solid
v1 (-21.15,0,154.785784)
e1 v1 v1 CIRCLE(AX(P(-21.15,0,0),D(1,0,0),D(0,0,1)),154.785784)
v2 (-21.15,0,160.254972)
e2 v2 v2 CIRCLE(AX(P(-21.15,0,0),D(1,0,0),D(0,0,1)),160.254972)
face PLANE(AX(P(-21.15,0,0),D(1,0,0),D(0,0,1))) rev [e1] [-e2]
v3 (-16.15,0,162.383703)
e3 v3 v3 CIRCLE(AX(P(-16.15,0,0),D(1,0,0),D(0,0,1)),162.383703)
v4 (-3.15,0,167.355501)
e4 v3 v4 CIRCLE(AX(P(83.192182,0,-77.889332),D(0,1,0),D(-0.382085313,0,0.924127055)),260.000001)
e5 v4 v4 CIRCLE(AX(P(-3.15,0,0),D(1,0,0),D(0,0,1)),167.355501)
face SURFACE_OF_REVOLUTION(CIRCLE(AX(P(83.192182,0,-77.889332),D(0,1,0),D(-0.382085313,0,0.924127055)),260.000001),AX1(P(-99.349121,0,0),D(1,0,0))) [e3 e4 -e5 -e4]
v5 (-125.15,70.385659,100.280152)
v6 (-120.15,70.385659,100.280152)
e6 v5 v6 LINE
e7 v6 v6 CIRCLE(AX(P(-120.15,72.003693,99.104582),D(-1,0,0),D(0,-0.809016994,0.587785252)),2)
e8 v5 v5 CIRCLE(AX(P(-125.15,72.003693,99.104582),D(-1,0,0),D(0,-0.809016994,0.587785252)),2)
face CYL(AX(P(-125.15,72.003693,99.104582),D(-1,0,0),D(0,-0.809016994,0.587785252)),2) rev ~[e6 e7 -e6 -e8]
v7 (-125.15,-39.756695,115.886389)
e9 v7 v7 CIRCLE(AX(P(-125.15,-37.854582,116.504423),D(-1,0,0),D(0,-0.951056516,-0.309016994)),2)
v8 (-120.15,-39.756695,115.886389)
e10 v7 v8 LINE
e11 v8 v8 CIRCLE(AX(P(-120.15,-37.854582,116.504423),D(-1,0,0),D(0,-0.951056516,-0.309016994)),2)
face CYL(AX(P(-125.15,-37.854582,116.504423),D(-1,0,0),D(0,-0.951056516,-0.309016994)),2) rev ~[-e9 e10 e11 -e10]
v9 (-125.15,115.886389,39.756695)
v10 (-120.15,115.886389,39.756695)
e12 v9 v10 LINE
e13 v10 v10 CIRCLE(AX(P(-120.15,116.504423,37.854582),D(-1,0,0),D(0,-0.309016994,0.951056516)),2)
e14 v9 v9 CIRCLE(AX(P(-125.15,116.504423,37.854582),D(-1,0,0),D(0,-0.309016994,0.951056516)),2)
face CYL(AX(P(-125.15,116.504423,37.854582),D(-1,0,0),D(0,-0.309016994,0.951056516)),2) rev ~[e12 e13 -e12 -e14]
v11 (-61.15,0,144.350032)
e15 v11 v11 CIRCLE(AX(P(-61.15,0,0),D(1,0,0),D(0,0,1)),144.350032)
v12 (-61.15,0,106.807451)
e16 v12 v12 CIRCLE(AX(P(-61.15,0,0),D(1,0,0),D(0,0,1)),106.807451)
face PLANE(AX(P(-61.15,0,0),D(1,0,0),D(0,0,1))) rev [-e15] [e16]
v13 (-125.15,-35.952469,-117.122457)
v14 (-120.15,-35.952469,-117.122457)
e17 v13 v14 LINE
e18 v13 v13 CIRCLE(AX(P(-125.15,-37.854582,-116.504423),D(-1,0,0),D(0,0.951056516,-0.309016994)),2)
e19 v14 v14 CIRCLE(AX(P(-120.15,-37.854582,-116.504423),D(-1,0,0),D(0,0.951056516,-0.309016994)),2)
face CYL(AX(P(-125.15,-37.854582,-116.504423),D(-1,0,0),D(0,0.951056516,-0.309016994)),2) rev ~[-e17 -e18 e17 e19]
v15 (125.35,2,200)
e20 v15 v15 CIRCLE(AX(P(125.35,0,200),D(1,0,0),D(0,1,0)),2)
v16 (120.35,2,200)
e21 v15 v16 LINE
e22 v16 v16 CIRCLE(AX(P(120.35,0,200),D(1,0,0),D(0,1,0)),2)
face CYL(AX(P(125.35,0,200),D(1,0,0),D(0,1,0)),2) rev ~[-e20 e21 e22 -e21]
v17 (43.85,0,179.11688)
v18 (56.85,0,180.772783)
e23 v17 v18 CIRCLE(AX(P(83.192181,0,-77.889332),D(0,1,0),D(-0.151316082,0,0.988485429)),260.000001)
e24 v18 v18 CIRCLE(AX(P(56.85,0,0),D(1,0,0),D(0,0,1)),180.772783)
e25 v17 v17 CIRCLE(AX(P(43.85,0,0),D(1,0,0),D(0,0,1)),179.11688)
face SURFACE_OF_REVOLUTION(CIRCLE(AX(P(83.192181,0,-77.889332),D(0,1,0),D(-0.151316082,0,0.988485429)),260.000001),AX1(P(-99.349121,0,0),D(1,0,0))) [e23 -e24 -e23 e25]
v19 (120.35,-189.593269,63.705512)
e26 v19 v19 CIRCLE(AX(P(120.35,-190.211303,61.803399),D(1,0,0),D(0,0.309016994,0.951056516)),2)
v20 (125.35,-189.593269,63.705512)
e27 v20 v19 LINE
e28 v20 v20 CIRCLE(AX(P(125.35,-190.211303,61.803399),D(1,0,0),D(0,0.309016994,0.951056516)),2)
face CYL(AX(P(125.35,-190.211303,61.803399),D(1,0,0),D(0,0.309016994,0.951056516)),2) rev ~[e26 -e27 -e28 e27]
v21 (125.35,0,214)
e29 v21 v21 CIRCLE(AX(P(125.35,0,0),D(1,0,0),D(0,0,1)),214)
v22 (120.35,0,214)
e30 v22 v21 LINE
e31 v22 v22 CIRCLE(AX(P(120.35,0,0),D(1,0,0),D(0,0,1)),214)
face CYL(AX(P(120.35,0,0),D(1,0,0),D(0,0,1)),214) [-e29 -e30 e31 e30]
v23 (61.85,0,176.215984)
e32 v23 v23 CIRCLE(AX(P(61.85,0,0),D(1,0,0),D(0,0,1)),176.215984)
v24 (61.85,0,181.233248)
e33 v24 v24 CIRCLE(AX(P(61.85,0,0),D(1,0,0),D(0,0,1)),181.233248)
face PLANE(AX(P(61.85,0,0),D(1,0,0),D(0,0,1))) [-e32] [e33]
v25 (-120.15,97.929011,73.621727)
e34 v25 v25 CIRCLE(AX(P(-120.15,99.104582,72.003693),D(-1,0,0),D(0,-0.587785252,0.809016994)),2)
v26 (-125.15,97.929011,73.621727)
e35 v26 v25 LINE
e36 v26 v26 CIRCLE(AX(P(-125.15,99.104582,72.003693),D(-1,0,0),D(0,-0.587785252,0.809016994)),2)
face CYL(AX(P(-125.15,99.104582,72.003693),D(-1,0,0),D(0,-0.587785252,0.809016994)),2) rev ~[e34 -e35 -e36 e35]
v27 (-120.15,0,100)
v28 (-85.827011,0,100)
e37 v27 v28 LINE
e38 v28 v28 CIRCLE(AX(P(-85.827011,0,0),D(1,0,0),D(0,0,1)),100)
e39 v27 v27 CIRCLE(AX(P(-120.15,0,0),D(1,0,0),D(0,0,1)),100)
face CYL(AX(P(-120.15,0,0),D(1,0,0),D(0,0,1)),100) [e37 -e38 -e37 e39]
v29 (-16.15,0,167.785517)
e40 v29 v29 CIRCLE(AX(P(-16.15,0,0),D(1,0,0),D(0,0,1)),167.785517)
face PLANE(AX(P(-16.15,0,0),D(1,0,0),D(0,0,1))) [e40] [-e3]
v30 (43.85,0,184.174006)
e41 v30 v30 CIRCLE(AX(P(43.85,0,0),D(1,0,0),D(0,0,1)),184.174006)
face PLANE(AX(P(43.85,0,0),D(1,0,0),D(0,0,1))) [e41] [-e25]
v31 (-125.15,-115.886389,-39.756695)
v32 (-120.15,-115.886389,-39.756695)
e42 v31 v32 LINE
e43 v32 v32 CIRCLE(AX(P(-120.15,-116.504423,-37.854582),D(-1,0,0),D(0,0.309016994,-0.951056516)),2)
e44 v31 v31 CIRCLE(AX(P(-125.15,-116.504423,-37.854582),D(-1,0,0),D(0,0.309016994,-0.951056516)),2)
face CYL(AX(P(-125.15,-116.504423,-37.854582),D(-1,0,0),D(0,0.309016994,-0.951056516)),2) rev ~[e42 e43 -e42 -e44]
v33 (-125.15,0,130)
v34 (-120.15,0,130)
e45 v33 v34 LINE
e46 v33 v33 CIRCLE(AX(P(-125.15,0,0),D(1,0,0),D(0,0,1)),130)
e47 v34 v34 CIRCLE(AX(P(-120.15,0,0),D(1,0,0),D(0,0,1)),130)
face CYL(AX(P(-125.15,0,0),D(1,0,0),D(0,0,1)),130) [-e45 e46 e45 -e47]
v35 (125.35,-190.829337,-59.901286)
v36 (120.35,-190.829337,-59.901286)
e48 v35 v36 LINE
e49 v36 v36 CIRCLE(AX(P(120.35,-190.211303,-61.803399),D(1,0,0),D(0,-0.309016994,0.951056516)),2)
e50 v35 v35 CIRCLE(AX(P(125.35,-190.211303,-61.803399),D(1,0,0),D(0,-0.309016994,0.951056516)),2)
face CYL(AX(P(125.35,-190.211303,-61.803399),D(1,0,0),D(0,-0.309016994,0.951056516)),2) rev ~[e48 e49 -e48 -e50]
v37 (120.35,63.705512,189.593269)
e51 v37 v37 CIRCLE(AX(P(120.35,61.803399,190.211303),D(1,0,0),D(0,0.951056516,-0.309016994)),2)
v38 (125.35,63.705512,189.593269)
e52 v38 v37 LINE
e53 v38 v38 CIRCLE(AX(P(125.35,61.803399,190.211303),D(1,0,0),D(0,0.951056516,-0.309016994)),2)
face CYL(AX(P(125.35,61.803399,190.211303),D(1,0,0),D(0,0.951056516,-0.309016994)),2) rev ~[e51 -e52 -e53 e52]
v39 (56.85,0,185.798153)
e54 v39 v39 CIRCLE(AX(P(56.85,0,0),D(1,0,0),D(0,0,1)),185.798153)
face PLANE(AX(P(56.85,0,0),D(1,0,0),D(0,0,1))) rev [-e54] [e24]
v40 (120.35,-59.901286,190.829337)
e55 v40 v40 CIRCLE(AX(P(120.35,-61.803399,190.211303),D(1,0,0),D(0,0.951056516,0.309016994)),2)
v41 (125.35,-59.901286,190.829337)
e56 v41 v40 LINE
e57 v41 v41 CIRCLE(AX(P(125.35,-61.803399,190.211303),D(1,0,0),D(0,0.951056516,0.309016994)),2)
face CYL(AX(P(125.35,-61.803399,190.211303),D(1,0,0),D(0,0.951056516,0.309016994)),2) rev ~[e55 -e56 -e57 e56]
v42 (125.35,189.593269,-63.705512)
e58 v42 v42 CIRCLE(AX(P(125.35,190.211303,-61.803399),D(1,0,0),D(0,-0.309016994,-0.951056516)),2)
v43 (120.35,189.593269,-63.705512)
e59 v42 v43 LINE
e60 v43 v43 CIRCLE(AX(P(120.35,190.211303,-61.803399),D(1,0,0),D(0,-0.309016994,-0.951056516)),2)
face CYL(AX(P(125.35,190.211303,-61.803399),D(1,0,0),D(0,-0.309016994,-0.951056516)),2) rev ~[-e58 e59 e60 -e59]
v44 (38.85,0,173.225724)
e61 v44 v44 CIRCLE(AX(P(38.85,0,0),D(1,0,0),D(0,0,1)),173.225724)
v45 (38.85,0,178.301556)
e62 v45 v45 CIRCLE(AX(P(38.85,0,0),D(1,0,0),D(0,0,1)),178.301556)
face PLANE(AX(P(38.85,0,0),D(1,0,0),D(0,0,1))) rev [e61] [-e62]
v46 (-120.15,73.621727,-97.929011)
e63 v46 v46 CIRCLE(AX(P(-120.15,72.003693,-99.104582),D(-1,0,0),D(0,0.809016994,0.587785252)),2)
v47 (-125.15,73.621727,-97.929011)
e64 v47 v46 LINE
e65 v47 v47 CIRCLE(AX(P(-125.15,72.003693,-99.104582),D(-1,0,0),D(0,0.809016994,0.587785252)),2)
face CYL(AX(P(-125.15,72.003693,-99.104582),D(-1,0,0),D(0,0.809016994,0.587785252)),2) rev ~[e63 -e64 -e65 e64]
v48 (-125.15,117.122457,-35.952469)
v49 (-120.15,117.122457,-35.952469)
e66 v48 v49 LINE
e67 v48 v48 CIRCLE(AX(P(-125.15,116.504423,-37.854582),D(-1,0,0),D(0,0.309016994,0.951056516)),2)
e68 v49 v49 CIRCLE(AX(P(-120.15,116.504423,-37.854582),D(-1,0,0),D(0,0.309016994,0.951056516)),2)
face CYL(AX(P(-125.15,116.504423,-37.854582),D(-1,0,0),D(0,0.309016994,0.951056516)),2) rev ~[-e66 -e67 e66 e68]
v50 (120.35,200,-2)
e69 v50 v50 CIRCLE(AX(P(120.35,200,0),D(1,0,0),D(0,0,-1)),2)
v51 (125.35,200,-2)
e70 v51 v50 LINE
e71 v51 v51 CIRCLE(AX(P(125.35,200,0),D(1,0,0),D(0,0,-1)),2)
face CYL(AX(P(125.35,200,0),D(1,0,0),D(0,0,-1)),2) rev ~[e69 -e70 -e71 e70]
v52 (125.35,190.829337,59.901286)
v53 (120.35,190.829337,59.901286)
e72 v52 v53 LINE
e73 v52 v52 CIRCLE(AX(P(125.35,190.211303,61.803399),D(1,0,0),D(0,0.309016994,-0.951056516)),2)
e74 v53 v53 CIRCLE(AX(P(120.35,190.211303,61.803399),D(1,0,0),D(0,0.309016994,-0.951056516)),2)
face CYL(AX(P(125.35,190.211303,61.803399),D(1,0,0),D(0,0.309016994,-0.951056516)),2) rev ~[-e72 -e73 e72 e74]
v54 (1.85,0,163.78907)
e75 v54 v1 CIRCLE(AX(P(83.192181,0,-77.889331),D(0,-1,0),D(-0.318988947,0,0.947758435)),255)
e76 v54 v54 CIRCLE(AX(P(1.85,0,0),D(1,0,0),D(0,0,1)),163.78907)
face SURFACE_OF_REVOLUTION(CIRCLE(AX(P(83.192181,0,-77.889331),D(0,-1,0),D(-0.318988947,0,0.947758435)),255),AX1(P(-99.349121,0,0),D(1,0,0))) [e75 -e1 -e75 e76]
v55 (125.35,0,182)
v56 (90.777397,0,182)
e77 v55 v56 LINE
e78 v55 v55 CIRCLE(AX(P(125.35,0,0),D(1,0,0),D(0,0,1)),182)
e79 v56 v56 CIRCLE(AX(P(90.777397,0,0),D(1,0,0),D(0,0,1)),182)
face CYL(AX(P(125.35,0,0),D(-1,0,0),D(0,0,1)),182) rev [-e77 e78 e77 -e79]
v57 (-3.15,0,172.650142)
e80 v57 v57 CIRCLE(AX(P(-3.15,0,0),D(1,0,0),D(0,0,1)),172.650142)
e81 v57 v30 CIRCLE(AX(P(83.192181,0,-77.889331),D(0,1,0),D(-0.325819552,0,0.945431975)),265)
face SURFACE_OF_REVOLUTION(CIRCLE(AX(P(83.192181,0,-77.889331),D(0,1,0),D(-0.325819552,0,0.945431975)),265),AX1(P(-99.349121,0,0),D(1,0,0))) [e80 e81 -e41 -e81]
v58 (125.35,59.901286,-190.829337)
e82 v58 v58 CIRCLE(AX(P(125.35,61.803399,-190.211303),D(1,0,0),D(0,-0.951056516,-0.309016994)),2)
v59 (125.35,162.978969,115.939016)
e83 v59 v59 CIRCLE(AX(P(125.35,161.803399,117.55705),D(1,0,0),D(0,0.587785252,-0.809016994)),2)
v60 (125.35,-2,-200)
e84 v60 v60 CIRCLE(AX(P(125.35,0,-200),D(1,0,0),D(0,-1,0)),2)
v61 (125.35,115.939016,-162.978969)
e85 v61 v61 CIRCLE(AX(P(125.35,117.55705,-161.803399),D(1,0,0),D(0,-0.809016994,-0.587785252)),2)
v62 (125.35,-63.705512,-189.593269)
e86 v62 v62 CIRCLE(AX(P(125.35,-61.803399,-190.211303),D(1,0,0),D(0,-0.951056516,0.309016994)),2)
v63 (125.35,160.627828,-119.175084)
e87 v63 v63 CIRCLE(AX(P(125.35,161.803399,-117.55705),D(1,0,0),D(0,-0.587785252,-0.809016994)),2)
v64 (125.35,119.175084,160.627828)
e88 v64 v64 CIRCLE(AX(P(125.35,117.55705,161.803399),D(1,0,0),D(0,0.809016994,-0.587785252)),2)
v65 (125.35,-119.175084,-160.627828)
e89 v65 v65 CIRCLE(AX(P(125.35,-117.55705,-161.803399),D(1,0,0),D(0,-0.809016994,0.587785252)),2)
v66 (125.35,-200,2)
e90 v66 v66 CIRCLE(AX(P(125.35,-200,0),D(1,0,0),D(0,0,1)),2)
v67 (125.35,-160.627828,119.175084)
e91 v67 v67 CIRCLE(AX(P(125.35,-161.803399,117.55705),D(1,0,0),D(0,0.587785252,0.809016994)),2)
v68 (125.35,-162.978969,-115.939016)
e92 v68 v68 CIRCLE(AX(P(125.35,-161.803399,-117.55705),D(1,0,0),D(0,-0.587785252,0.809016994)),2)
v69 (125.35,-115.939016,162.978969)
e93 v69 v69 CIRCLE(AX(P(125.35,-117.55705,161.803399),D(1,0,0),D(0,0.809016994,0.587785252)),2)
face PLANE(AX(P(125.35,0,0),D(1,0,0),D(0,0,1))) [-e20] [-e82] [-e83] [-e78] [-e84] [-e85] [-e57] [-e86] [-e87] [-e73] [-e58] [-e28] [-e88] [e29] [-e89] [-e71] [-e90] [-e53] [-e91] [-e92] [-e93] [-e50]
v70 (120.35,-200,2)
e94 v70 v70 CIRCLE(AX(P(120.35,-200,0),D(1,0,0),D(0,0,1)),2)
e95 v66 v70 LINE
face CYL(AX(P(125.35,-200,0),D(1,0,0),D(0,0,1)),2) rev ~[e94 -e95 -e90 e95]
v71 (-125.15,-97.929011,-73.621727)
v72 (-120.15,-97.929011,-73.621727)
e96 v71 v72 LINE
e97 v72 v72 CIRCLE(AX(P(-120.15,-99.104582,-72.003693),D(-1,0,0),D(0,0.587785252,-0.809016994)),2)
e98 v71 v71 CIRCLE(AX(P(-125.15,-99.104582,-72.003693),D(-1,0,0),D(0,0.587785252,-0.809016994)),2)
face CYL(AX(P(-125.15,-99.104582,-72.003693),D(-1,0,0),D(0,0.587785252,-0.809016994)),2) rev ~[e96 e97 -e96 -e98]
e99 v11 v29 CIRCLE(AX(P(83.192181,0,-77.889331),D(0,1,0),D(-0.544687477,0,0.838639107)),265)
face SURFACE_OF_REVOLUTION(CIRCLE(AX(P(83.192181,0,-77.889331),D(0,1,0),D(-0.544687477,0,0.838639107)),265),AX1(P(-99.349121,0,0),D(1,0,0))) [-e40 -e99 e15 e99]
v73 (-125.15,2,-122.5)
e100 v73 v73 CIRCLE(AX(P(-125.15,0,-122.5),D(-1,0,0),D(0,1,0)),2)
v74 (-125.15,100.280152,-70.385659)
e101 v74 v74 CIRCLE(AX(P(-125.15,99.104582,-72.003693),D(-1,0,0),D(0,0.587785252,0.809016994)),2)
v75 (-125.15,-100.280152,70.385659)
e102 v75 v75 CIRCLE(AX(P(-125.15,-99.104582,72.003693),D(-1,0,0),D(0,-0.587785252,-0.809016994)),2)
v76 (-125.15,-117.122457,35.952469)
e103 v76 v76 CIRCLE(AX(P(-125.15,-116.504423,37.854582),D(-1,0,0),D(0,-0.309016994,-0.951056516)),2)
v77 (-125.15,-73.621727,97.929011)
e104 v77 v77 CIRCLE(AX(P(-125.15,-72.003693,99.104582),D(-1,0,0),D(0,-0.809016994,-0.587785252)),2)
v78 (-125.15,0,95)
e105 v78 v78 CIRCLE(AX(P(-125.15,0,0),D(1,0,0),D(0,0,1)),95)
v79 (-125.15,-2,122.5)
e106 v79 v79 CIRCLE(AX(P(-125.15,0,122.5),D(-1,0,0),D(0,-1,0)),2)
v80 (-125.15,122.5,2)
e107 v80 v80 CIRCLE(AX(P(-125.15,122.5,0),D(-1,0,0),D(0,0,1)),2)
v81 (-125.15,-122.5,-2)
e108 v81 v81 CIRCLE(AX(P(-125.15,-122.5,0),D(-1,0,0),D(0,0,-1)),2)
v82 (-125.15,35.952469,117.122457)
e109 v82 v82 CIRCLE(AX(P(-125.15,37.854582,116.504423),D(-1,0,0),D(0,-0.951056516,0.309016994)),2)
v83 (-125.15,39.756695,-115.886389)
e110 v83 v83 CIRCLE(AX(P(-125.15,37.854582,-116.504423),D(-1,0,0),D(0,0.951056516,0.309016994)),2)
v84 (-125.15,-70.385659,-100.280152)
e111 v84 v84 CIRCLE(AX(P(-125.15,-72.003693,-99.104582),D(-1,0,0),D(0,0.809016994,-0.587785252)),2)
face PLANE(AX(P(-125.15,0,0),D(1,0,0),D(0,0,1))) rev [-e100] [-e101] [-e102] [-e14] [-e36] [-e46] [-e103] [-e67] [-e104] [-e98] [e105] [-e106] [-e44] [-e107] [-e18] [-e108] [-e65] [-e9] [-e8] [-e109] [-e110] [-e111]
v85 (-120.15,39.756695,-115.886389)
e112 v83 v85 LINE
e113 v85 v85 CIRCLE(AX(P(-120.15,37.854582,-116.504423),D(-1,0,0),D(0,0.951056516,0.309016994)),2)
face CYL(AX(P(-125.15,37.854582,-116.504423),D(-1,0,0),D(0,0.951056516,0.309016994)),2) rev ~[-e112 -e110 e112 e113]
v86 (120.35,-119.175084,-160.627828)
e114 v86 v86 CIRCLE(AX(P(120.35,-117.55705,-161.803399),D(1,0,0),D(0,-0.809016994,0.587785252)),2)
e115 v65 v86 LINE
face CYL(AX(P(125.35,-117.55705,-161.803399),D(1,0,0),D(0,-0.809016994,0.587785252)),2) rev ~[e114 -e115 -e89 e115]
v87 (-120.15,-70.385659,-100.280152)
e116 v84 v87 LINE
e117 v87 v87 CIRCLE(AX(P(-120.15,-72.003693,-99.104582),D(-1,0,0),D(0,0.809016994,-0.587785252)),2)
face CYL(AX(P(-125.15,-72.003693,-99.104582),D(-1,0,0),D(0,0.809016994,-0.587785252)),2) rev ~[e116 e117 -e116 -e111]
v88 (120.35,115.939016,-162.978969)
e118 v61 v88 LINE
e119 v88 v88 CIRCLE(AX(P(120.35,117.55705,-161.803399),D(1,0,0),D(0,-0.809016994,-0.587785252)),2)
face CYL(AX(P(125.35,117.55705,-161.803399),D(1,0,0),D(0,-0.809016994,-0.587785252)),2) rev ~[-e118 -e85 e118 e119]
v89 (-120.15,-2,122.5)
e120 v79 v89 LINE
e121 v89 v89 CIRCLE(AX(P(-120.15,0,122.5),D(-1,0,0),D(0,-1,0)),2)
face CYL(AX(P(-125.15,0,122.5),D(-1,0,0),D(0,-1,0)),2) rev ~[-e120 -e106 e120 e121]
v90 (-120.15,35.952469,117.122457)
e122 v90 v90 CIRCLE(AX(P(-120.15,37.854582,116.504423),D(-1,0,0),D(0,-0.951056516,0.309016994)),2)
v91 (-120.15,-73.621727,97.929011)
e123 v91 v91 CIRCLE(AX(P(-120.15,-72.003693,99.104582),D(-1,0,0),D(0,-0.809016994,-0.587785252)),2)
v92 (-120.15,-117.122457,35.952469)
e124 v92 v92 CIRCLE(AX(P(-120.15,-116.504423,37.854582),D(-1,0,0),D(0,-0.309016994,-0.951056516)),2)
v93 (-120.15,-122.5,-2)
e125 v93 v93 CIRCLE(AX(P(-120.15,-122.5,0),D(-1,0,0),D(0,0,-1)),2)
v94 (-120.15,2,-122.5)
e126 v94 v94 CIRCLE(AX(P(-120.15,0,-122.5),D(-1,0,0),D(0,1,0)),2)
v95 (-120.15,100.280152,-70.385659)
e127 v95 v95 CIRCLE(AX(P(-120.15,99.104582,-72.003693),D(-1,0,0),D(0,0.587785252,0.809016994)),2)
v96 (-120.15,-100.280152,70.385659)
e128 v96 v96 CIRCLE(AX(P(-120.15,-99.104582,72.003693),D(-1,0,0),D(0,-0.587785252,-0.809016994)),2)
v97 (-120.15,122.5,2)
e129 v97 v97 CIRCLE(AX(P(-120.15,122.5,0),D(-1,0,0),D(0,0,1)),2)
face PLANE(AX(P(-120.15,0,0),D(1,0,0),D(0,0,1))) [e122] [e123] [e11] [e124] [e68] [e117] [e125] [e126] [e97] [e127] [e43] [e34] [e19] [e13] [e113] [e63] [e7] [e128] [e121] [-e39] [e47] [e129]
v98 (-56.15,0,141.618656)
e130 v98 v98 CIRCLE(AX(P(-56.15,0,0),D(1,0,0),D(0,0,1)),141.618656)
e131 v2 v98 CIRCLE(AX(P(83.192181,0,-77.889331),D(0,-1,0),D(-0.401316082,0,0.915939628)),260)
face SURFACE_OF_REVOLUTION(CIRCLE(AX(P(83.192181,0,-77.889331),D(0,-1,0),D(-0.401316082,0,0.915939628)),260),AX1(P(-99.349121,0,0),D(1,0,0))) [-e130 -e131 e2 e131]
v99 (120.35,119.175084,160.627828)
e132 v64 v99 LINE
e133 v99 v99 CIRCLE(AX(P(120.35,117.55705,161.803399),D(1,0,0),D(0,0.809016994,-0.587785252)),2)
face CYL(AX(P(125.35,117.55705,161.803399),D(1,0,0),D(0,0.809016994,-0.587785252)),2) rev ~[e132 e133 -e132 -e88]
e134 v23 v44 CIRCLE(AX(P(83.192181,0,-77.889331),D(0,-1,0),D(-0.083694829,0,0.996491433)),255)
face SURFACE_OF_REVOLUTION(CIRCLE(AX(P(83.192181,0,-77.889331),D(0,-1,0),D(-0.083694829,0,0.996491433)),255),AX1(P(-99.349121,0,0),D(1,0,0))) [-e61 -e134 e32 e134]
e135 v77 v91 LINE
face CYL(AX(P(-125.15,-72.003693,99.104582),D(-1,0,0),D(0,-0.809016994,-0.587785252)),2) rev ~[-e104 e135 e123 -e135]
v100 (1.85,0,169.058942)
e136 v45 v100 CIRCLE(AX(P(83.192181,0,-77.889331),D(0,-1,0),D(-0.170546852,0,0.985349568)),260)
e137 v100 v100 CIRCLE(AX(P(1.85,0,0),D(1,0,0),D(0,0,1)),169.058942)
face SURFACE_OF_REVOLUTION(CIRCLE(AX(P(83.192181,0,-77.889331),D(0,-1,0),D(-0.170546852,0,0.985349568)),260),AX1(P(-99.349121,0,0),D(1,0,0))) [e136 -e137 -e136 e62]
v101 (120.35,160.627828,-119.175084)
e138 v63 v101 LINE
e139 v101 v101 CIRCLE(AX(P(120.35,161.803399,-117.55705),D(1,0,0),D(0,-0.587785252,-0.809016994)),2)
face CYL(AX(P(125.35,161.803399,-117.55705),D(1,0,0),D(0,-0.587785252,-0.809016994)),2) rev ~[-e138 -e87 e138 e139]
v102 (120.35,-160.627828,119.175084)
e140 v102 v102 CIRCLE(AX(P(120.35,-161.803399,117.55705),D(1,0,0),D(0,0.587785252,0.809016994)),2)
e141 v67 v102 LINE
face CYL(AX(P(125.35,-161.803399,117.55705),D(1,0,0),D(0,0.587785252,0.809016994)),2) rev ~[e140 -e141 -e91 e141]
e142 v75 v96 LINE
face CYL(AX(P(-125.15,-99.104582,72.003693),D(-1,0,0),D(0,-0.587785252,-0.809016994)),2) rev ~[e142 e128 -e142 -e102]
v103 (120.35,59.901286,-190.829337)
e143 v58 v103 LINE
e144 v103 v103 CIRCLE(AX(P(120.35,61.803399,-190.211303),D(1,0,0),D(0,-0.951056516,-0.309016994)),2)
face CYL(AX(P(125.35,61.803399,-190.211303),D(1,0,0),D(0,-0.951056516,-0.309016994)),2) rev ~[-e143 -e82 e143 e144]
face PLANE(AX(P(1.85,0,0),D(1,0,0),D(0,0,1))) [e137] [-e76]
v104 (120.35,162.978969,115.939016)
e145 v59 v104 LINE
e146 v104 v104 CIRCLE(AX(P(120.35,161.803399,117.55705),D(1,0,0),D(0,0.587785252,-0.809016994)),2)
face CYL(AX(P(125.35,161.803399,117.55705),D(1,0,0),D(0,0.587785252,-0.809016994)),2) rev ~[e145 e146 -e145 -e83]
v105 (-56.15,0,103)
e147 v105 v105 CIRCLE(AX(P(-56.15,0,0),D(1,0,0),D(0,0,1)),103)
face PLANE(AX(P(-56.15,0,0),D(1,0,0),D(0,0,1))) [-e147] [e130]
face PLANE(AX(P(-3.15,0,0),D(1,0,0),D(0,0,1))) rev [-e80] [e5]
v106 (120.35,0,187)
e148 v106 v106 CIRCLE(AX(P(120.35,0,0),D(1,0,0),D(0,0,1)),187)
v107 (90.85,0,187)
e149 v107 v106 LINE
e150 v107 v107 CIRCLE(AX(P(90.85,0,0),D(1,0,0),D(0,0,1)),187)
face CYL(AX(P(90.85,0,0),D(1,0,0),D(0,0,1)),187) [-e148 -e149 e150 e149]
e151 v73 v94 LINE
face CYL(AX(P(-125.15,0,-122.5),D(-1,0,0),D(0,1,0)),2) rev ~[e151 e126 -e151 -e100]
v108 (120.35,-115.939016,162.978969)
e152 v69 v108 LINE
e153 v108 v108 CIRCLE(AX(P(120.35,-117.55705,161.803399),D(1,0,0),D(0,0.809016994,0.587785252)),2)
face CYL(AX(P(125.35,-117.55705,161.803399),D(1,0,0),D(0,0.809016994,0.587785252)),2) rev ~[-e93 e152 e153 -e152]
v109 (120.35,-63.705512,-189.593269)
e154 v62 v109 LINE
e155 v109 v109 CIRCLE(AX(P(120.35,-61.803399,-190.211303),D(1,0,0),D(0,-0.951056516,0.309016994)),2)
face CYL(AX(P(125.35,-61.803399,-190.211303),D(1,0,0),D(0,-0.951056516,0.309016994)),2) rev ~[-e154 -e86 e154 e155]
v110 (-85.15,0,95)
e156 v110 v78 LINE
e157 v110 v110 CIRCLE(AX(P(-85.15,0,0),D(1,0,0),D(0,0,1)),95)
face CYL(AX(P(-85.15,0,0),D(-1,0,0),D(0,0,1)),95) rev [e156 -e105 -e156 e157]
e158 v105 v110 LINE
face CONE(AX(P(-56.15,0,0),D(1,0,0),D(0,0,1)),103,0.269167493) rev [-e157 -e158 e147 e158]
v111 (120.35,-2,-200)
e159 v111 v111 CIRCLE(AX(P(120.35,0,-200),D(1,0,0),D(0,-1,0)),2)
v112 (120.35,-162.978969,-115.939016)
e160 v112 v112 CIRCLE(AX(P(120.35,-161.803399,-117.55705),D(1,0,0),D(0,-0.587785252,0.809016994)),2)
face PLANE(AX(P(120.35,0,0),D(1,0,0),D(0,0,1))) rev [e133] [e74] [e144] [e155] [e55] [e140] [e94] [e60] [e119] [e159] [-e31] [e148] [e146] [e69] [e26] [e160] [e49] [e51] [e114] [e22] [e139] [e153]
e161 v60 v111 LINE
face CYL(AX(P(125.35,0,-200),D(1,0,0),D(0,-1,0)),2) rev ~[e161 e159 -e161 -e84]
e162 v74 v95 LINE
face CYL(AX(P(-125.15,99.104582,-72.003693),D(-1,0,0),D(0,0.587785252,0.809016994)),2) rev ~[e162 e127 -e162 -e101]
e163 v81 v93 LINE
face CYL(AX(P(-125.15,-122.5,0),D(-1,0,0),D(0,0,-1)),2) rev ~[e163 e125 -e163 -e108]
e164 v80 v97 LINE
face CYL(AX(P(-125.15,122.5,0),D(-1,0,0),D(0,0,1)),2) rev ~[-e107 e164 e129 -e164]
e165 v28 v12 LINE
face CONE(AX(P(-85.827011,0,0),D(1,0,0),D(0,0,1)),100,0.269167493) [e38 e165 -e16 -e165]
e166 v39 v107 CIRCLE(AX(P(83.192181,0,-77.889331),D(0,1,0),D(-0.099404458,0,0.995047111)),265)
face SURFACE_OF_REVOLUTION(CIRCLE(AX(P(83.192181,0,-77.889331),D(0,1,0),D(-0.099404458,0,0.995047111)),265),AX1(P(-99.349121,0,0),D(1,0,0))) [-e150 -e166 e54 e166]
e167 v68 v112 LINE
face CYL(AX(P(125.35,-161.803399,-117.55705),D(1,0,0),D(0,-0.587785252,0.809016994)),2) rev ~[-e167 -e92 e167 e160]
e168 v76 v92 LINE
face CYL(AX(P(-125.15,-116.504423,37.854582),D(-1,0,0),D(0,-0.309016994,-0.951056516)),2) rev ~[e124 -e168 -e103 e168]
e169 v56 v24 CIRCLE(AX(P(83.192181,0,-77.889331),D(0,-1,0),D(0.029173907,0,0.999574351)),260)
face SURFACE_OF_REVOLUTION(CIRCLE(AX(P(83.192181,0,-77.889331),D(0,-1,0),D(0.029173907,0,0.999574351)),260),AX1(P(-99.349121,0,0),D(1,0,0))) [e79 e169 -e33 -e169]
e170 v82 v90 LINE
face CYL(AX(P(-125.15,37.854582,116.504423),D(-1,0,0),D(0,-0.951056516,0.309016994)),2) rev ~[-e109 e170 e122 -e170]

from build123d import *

# Parameters (mm, degrees)
SKETCH2_R          = 2
CUT_EXTRUDE1_DEPTH = 10
SKETCH3_R          = 2
CUT_EXTRUDE2_DEPTH = 10
CIRPATTERN1_COUNT  = 20


with BuildPart() as part:
    # Sketch1 → Revolve1 (revolve)
    with BuildSketch(Plane.XY, mode=Mode.PRIVATE) as revolve1_sk:
        with BuildLine():
            Line((125.35, 214), (125.35, 182))
            Line((125.35, 182), (90.777397171, 182))
            ThreePointArc((90.777397171, 182), (76.303023046, 182.019382519), (61.85, 181.233248409))
            Line((61.85, 181.233248409), (61.85, 176.215984101))
            ThreePointArc((61.85, 176.215984101), (50.315984949, 174.982485494), (38.85, 173.225723944))
            Line((38.85, 173.225723944), (38.85, 178.301556459))
            ThreePointArc((38.85, 178.301556459), (20.180307559, 174.359561219), (1.85, 169.058941719))
            Line((1.85, 169.058941719), (1.85, 163.789069776))
            ThreePointArc((1.85, 163.789069776), (-9.759071612, 159.566063637), (-21.15, 154.785783832))
            Line((-21.15, 154.785783832), (-21.15, 160.254972016))
            ThreePointArc((-21.15, 160.254972016), (-39.005794183, 151.605014565), (-56.15, 141.618656033))
            Line((-56.15, 141.618656033), (-56.15, 103))
            Line((-56.15, 103), (-85.15, 95))
            Line((-85.15, 95), (-125.15, 95))
            Line((-125.15, 95), (-125.15, 130))
            Line((-125.15, 130), (-120.15, 130))
            Line((-120.15, 130), (-120.15, 100))
            Line((-120.15, 100), (-85.827011196, 100))
            Line((-85.827011196, 100), (-61.15, 106.807451364))
            Line((-61.15, 106.807451364), (-61.15, 144.350032201))
            ThreePointArc((-61.15, 144.350032201), (-39.212159428, 157.147213449), (-16.15, 167.785516856))
            Line((-16.15, 167.785516856), (-16.15, 162.383703009))
            ThreePointArc((-16.15, 162.383703009), (-9.683274673, 164.95660686), (-3.15, 167.355500925))
            Line((-3.15, 167.355500925), (-3.15, 172.650142104))
            ThreePointArc((-3.15, 172.650142104), (20.086400181, 179.487164129), (43.85, 184.174006054))
            Line((43.85, 184.174006054), (43.85, 179.116880269))
            ThreePointArc((43.85, 179.116880269), (50.339565328, 180.026751253), (56.85, 180.772783246))
            Line((56.85, 180.772783246), (56.85, 185.798153237))
            ThreePointArc((56.85, 185.798153237), (73.830693152, 186.94526342), (90.85, 187))
            Line((90.85, 187), (120.35, 187))
            Line((120.35, 187), (120.35, 214))
            Line((120.35, 214), (125.35, 214))
        make_face()
    revolve(revolve1_sk.sketch.rotate(Axis((-99.349120664, 0, 0), (1, 0, 0)), 90), axis=Axis((-99.349120664, 0, 0), (1, 0, 0)))

    # Sketch2 → Cut-Extrude1 (cut)
    with BuildSketch(Plane.ZY.offset(125.15)):
        with Locations((0, 122.5)):
            Circle(SKETCH2_R)
    cut_extrude1 = extrude(amount=-CUT_EXTRUDE1_DEPTH, mode=Mode.SUBTRACT)

    # Sketch3 → Cut-Extrude2 (cut)
    with BuildSketch(Plane(origin=(125.35, 0, 0), x_dir=(0, 0, -1), z_dir=(1, 0, 0))):
        with Locations((0, 200)):
            Circle(SKETCH3_R)
    cut_extrude2 = extrude(amount=-CUT_EXTRUDE2_DEPTH, mode=Mode.SUBTRACT)

    # CirPattern1: Cut-Extrude1, Cut-Extrude2 ×20 about axis
    cirpattern1_axis = Axis((0, 0, 0), (1, 0, 0))
    add([cut_extrude1.rotate(cirpattern1_axis, i * 360 / CIRPATTERN1_COUNT) for i in range(1, CIRPATTERN1_COUNT)], mode=Mode.SUBTRACT)
    add([cut_extrude2.rotate(cirpattern1_axis, i * 360 / CIRPATTERN1_COUNT) for i in range(1, CIRPATTERN1_COUNT)], mode=Mode.SUBTRACT)


solid = part.part
